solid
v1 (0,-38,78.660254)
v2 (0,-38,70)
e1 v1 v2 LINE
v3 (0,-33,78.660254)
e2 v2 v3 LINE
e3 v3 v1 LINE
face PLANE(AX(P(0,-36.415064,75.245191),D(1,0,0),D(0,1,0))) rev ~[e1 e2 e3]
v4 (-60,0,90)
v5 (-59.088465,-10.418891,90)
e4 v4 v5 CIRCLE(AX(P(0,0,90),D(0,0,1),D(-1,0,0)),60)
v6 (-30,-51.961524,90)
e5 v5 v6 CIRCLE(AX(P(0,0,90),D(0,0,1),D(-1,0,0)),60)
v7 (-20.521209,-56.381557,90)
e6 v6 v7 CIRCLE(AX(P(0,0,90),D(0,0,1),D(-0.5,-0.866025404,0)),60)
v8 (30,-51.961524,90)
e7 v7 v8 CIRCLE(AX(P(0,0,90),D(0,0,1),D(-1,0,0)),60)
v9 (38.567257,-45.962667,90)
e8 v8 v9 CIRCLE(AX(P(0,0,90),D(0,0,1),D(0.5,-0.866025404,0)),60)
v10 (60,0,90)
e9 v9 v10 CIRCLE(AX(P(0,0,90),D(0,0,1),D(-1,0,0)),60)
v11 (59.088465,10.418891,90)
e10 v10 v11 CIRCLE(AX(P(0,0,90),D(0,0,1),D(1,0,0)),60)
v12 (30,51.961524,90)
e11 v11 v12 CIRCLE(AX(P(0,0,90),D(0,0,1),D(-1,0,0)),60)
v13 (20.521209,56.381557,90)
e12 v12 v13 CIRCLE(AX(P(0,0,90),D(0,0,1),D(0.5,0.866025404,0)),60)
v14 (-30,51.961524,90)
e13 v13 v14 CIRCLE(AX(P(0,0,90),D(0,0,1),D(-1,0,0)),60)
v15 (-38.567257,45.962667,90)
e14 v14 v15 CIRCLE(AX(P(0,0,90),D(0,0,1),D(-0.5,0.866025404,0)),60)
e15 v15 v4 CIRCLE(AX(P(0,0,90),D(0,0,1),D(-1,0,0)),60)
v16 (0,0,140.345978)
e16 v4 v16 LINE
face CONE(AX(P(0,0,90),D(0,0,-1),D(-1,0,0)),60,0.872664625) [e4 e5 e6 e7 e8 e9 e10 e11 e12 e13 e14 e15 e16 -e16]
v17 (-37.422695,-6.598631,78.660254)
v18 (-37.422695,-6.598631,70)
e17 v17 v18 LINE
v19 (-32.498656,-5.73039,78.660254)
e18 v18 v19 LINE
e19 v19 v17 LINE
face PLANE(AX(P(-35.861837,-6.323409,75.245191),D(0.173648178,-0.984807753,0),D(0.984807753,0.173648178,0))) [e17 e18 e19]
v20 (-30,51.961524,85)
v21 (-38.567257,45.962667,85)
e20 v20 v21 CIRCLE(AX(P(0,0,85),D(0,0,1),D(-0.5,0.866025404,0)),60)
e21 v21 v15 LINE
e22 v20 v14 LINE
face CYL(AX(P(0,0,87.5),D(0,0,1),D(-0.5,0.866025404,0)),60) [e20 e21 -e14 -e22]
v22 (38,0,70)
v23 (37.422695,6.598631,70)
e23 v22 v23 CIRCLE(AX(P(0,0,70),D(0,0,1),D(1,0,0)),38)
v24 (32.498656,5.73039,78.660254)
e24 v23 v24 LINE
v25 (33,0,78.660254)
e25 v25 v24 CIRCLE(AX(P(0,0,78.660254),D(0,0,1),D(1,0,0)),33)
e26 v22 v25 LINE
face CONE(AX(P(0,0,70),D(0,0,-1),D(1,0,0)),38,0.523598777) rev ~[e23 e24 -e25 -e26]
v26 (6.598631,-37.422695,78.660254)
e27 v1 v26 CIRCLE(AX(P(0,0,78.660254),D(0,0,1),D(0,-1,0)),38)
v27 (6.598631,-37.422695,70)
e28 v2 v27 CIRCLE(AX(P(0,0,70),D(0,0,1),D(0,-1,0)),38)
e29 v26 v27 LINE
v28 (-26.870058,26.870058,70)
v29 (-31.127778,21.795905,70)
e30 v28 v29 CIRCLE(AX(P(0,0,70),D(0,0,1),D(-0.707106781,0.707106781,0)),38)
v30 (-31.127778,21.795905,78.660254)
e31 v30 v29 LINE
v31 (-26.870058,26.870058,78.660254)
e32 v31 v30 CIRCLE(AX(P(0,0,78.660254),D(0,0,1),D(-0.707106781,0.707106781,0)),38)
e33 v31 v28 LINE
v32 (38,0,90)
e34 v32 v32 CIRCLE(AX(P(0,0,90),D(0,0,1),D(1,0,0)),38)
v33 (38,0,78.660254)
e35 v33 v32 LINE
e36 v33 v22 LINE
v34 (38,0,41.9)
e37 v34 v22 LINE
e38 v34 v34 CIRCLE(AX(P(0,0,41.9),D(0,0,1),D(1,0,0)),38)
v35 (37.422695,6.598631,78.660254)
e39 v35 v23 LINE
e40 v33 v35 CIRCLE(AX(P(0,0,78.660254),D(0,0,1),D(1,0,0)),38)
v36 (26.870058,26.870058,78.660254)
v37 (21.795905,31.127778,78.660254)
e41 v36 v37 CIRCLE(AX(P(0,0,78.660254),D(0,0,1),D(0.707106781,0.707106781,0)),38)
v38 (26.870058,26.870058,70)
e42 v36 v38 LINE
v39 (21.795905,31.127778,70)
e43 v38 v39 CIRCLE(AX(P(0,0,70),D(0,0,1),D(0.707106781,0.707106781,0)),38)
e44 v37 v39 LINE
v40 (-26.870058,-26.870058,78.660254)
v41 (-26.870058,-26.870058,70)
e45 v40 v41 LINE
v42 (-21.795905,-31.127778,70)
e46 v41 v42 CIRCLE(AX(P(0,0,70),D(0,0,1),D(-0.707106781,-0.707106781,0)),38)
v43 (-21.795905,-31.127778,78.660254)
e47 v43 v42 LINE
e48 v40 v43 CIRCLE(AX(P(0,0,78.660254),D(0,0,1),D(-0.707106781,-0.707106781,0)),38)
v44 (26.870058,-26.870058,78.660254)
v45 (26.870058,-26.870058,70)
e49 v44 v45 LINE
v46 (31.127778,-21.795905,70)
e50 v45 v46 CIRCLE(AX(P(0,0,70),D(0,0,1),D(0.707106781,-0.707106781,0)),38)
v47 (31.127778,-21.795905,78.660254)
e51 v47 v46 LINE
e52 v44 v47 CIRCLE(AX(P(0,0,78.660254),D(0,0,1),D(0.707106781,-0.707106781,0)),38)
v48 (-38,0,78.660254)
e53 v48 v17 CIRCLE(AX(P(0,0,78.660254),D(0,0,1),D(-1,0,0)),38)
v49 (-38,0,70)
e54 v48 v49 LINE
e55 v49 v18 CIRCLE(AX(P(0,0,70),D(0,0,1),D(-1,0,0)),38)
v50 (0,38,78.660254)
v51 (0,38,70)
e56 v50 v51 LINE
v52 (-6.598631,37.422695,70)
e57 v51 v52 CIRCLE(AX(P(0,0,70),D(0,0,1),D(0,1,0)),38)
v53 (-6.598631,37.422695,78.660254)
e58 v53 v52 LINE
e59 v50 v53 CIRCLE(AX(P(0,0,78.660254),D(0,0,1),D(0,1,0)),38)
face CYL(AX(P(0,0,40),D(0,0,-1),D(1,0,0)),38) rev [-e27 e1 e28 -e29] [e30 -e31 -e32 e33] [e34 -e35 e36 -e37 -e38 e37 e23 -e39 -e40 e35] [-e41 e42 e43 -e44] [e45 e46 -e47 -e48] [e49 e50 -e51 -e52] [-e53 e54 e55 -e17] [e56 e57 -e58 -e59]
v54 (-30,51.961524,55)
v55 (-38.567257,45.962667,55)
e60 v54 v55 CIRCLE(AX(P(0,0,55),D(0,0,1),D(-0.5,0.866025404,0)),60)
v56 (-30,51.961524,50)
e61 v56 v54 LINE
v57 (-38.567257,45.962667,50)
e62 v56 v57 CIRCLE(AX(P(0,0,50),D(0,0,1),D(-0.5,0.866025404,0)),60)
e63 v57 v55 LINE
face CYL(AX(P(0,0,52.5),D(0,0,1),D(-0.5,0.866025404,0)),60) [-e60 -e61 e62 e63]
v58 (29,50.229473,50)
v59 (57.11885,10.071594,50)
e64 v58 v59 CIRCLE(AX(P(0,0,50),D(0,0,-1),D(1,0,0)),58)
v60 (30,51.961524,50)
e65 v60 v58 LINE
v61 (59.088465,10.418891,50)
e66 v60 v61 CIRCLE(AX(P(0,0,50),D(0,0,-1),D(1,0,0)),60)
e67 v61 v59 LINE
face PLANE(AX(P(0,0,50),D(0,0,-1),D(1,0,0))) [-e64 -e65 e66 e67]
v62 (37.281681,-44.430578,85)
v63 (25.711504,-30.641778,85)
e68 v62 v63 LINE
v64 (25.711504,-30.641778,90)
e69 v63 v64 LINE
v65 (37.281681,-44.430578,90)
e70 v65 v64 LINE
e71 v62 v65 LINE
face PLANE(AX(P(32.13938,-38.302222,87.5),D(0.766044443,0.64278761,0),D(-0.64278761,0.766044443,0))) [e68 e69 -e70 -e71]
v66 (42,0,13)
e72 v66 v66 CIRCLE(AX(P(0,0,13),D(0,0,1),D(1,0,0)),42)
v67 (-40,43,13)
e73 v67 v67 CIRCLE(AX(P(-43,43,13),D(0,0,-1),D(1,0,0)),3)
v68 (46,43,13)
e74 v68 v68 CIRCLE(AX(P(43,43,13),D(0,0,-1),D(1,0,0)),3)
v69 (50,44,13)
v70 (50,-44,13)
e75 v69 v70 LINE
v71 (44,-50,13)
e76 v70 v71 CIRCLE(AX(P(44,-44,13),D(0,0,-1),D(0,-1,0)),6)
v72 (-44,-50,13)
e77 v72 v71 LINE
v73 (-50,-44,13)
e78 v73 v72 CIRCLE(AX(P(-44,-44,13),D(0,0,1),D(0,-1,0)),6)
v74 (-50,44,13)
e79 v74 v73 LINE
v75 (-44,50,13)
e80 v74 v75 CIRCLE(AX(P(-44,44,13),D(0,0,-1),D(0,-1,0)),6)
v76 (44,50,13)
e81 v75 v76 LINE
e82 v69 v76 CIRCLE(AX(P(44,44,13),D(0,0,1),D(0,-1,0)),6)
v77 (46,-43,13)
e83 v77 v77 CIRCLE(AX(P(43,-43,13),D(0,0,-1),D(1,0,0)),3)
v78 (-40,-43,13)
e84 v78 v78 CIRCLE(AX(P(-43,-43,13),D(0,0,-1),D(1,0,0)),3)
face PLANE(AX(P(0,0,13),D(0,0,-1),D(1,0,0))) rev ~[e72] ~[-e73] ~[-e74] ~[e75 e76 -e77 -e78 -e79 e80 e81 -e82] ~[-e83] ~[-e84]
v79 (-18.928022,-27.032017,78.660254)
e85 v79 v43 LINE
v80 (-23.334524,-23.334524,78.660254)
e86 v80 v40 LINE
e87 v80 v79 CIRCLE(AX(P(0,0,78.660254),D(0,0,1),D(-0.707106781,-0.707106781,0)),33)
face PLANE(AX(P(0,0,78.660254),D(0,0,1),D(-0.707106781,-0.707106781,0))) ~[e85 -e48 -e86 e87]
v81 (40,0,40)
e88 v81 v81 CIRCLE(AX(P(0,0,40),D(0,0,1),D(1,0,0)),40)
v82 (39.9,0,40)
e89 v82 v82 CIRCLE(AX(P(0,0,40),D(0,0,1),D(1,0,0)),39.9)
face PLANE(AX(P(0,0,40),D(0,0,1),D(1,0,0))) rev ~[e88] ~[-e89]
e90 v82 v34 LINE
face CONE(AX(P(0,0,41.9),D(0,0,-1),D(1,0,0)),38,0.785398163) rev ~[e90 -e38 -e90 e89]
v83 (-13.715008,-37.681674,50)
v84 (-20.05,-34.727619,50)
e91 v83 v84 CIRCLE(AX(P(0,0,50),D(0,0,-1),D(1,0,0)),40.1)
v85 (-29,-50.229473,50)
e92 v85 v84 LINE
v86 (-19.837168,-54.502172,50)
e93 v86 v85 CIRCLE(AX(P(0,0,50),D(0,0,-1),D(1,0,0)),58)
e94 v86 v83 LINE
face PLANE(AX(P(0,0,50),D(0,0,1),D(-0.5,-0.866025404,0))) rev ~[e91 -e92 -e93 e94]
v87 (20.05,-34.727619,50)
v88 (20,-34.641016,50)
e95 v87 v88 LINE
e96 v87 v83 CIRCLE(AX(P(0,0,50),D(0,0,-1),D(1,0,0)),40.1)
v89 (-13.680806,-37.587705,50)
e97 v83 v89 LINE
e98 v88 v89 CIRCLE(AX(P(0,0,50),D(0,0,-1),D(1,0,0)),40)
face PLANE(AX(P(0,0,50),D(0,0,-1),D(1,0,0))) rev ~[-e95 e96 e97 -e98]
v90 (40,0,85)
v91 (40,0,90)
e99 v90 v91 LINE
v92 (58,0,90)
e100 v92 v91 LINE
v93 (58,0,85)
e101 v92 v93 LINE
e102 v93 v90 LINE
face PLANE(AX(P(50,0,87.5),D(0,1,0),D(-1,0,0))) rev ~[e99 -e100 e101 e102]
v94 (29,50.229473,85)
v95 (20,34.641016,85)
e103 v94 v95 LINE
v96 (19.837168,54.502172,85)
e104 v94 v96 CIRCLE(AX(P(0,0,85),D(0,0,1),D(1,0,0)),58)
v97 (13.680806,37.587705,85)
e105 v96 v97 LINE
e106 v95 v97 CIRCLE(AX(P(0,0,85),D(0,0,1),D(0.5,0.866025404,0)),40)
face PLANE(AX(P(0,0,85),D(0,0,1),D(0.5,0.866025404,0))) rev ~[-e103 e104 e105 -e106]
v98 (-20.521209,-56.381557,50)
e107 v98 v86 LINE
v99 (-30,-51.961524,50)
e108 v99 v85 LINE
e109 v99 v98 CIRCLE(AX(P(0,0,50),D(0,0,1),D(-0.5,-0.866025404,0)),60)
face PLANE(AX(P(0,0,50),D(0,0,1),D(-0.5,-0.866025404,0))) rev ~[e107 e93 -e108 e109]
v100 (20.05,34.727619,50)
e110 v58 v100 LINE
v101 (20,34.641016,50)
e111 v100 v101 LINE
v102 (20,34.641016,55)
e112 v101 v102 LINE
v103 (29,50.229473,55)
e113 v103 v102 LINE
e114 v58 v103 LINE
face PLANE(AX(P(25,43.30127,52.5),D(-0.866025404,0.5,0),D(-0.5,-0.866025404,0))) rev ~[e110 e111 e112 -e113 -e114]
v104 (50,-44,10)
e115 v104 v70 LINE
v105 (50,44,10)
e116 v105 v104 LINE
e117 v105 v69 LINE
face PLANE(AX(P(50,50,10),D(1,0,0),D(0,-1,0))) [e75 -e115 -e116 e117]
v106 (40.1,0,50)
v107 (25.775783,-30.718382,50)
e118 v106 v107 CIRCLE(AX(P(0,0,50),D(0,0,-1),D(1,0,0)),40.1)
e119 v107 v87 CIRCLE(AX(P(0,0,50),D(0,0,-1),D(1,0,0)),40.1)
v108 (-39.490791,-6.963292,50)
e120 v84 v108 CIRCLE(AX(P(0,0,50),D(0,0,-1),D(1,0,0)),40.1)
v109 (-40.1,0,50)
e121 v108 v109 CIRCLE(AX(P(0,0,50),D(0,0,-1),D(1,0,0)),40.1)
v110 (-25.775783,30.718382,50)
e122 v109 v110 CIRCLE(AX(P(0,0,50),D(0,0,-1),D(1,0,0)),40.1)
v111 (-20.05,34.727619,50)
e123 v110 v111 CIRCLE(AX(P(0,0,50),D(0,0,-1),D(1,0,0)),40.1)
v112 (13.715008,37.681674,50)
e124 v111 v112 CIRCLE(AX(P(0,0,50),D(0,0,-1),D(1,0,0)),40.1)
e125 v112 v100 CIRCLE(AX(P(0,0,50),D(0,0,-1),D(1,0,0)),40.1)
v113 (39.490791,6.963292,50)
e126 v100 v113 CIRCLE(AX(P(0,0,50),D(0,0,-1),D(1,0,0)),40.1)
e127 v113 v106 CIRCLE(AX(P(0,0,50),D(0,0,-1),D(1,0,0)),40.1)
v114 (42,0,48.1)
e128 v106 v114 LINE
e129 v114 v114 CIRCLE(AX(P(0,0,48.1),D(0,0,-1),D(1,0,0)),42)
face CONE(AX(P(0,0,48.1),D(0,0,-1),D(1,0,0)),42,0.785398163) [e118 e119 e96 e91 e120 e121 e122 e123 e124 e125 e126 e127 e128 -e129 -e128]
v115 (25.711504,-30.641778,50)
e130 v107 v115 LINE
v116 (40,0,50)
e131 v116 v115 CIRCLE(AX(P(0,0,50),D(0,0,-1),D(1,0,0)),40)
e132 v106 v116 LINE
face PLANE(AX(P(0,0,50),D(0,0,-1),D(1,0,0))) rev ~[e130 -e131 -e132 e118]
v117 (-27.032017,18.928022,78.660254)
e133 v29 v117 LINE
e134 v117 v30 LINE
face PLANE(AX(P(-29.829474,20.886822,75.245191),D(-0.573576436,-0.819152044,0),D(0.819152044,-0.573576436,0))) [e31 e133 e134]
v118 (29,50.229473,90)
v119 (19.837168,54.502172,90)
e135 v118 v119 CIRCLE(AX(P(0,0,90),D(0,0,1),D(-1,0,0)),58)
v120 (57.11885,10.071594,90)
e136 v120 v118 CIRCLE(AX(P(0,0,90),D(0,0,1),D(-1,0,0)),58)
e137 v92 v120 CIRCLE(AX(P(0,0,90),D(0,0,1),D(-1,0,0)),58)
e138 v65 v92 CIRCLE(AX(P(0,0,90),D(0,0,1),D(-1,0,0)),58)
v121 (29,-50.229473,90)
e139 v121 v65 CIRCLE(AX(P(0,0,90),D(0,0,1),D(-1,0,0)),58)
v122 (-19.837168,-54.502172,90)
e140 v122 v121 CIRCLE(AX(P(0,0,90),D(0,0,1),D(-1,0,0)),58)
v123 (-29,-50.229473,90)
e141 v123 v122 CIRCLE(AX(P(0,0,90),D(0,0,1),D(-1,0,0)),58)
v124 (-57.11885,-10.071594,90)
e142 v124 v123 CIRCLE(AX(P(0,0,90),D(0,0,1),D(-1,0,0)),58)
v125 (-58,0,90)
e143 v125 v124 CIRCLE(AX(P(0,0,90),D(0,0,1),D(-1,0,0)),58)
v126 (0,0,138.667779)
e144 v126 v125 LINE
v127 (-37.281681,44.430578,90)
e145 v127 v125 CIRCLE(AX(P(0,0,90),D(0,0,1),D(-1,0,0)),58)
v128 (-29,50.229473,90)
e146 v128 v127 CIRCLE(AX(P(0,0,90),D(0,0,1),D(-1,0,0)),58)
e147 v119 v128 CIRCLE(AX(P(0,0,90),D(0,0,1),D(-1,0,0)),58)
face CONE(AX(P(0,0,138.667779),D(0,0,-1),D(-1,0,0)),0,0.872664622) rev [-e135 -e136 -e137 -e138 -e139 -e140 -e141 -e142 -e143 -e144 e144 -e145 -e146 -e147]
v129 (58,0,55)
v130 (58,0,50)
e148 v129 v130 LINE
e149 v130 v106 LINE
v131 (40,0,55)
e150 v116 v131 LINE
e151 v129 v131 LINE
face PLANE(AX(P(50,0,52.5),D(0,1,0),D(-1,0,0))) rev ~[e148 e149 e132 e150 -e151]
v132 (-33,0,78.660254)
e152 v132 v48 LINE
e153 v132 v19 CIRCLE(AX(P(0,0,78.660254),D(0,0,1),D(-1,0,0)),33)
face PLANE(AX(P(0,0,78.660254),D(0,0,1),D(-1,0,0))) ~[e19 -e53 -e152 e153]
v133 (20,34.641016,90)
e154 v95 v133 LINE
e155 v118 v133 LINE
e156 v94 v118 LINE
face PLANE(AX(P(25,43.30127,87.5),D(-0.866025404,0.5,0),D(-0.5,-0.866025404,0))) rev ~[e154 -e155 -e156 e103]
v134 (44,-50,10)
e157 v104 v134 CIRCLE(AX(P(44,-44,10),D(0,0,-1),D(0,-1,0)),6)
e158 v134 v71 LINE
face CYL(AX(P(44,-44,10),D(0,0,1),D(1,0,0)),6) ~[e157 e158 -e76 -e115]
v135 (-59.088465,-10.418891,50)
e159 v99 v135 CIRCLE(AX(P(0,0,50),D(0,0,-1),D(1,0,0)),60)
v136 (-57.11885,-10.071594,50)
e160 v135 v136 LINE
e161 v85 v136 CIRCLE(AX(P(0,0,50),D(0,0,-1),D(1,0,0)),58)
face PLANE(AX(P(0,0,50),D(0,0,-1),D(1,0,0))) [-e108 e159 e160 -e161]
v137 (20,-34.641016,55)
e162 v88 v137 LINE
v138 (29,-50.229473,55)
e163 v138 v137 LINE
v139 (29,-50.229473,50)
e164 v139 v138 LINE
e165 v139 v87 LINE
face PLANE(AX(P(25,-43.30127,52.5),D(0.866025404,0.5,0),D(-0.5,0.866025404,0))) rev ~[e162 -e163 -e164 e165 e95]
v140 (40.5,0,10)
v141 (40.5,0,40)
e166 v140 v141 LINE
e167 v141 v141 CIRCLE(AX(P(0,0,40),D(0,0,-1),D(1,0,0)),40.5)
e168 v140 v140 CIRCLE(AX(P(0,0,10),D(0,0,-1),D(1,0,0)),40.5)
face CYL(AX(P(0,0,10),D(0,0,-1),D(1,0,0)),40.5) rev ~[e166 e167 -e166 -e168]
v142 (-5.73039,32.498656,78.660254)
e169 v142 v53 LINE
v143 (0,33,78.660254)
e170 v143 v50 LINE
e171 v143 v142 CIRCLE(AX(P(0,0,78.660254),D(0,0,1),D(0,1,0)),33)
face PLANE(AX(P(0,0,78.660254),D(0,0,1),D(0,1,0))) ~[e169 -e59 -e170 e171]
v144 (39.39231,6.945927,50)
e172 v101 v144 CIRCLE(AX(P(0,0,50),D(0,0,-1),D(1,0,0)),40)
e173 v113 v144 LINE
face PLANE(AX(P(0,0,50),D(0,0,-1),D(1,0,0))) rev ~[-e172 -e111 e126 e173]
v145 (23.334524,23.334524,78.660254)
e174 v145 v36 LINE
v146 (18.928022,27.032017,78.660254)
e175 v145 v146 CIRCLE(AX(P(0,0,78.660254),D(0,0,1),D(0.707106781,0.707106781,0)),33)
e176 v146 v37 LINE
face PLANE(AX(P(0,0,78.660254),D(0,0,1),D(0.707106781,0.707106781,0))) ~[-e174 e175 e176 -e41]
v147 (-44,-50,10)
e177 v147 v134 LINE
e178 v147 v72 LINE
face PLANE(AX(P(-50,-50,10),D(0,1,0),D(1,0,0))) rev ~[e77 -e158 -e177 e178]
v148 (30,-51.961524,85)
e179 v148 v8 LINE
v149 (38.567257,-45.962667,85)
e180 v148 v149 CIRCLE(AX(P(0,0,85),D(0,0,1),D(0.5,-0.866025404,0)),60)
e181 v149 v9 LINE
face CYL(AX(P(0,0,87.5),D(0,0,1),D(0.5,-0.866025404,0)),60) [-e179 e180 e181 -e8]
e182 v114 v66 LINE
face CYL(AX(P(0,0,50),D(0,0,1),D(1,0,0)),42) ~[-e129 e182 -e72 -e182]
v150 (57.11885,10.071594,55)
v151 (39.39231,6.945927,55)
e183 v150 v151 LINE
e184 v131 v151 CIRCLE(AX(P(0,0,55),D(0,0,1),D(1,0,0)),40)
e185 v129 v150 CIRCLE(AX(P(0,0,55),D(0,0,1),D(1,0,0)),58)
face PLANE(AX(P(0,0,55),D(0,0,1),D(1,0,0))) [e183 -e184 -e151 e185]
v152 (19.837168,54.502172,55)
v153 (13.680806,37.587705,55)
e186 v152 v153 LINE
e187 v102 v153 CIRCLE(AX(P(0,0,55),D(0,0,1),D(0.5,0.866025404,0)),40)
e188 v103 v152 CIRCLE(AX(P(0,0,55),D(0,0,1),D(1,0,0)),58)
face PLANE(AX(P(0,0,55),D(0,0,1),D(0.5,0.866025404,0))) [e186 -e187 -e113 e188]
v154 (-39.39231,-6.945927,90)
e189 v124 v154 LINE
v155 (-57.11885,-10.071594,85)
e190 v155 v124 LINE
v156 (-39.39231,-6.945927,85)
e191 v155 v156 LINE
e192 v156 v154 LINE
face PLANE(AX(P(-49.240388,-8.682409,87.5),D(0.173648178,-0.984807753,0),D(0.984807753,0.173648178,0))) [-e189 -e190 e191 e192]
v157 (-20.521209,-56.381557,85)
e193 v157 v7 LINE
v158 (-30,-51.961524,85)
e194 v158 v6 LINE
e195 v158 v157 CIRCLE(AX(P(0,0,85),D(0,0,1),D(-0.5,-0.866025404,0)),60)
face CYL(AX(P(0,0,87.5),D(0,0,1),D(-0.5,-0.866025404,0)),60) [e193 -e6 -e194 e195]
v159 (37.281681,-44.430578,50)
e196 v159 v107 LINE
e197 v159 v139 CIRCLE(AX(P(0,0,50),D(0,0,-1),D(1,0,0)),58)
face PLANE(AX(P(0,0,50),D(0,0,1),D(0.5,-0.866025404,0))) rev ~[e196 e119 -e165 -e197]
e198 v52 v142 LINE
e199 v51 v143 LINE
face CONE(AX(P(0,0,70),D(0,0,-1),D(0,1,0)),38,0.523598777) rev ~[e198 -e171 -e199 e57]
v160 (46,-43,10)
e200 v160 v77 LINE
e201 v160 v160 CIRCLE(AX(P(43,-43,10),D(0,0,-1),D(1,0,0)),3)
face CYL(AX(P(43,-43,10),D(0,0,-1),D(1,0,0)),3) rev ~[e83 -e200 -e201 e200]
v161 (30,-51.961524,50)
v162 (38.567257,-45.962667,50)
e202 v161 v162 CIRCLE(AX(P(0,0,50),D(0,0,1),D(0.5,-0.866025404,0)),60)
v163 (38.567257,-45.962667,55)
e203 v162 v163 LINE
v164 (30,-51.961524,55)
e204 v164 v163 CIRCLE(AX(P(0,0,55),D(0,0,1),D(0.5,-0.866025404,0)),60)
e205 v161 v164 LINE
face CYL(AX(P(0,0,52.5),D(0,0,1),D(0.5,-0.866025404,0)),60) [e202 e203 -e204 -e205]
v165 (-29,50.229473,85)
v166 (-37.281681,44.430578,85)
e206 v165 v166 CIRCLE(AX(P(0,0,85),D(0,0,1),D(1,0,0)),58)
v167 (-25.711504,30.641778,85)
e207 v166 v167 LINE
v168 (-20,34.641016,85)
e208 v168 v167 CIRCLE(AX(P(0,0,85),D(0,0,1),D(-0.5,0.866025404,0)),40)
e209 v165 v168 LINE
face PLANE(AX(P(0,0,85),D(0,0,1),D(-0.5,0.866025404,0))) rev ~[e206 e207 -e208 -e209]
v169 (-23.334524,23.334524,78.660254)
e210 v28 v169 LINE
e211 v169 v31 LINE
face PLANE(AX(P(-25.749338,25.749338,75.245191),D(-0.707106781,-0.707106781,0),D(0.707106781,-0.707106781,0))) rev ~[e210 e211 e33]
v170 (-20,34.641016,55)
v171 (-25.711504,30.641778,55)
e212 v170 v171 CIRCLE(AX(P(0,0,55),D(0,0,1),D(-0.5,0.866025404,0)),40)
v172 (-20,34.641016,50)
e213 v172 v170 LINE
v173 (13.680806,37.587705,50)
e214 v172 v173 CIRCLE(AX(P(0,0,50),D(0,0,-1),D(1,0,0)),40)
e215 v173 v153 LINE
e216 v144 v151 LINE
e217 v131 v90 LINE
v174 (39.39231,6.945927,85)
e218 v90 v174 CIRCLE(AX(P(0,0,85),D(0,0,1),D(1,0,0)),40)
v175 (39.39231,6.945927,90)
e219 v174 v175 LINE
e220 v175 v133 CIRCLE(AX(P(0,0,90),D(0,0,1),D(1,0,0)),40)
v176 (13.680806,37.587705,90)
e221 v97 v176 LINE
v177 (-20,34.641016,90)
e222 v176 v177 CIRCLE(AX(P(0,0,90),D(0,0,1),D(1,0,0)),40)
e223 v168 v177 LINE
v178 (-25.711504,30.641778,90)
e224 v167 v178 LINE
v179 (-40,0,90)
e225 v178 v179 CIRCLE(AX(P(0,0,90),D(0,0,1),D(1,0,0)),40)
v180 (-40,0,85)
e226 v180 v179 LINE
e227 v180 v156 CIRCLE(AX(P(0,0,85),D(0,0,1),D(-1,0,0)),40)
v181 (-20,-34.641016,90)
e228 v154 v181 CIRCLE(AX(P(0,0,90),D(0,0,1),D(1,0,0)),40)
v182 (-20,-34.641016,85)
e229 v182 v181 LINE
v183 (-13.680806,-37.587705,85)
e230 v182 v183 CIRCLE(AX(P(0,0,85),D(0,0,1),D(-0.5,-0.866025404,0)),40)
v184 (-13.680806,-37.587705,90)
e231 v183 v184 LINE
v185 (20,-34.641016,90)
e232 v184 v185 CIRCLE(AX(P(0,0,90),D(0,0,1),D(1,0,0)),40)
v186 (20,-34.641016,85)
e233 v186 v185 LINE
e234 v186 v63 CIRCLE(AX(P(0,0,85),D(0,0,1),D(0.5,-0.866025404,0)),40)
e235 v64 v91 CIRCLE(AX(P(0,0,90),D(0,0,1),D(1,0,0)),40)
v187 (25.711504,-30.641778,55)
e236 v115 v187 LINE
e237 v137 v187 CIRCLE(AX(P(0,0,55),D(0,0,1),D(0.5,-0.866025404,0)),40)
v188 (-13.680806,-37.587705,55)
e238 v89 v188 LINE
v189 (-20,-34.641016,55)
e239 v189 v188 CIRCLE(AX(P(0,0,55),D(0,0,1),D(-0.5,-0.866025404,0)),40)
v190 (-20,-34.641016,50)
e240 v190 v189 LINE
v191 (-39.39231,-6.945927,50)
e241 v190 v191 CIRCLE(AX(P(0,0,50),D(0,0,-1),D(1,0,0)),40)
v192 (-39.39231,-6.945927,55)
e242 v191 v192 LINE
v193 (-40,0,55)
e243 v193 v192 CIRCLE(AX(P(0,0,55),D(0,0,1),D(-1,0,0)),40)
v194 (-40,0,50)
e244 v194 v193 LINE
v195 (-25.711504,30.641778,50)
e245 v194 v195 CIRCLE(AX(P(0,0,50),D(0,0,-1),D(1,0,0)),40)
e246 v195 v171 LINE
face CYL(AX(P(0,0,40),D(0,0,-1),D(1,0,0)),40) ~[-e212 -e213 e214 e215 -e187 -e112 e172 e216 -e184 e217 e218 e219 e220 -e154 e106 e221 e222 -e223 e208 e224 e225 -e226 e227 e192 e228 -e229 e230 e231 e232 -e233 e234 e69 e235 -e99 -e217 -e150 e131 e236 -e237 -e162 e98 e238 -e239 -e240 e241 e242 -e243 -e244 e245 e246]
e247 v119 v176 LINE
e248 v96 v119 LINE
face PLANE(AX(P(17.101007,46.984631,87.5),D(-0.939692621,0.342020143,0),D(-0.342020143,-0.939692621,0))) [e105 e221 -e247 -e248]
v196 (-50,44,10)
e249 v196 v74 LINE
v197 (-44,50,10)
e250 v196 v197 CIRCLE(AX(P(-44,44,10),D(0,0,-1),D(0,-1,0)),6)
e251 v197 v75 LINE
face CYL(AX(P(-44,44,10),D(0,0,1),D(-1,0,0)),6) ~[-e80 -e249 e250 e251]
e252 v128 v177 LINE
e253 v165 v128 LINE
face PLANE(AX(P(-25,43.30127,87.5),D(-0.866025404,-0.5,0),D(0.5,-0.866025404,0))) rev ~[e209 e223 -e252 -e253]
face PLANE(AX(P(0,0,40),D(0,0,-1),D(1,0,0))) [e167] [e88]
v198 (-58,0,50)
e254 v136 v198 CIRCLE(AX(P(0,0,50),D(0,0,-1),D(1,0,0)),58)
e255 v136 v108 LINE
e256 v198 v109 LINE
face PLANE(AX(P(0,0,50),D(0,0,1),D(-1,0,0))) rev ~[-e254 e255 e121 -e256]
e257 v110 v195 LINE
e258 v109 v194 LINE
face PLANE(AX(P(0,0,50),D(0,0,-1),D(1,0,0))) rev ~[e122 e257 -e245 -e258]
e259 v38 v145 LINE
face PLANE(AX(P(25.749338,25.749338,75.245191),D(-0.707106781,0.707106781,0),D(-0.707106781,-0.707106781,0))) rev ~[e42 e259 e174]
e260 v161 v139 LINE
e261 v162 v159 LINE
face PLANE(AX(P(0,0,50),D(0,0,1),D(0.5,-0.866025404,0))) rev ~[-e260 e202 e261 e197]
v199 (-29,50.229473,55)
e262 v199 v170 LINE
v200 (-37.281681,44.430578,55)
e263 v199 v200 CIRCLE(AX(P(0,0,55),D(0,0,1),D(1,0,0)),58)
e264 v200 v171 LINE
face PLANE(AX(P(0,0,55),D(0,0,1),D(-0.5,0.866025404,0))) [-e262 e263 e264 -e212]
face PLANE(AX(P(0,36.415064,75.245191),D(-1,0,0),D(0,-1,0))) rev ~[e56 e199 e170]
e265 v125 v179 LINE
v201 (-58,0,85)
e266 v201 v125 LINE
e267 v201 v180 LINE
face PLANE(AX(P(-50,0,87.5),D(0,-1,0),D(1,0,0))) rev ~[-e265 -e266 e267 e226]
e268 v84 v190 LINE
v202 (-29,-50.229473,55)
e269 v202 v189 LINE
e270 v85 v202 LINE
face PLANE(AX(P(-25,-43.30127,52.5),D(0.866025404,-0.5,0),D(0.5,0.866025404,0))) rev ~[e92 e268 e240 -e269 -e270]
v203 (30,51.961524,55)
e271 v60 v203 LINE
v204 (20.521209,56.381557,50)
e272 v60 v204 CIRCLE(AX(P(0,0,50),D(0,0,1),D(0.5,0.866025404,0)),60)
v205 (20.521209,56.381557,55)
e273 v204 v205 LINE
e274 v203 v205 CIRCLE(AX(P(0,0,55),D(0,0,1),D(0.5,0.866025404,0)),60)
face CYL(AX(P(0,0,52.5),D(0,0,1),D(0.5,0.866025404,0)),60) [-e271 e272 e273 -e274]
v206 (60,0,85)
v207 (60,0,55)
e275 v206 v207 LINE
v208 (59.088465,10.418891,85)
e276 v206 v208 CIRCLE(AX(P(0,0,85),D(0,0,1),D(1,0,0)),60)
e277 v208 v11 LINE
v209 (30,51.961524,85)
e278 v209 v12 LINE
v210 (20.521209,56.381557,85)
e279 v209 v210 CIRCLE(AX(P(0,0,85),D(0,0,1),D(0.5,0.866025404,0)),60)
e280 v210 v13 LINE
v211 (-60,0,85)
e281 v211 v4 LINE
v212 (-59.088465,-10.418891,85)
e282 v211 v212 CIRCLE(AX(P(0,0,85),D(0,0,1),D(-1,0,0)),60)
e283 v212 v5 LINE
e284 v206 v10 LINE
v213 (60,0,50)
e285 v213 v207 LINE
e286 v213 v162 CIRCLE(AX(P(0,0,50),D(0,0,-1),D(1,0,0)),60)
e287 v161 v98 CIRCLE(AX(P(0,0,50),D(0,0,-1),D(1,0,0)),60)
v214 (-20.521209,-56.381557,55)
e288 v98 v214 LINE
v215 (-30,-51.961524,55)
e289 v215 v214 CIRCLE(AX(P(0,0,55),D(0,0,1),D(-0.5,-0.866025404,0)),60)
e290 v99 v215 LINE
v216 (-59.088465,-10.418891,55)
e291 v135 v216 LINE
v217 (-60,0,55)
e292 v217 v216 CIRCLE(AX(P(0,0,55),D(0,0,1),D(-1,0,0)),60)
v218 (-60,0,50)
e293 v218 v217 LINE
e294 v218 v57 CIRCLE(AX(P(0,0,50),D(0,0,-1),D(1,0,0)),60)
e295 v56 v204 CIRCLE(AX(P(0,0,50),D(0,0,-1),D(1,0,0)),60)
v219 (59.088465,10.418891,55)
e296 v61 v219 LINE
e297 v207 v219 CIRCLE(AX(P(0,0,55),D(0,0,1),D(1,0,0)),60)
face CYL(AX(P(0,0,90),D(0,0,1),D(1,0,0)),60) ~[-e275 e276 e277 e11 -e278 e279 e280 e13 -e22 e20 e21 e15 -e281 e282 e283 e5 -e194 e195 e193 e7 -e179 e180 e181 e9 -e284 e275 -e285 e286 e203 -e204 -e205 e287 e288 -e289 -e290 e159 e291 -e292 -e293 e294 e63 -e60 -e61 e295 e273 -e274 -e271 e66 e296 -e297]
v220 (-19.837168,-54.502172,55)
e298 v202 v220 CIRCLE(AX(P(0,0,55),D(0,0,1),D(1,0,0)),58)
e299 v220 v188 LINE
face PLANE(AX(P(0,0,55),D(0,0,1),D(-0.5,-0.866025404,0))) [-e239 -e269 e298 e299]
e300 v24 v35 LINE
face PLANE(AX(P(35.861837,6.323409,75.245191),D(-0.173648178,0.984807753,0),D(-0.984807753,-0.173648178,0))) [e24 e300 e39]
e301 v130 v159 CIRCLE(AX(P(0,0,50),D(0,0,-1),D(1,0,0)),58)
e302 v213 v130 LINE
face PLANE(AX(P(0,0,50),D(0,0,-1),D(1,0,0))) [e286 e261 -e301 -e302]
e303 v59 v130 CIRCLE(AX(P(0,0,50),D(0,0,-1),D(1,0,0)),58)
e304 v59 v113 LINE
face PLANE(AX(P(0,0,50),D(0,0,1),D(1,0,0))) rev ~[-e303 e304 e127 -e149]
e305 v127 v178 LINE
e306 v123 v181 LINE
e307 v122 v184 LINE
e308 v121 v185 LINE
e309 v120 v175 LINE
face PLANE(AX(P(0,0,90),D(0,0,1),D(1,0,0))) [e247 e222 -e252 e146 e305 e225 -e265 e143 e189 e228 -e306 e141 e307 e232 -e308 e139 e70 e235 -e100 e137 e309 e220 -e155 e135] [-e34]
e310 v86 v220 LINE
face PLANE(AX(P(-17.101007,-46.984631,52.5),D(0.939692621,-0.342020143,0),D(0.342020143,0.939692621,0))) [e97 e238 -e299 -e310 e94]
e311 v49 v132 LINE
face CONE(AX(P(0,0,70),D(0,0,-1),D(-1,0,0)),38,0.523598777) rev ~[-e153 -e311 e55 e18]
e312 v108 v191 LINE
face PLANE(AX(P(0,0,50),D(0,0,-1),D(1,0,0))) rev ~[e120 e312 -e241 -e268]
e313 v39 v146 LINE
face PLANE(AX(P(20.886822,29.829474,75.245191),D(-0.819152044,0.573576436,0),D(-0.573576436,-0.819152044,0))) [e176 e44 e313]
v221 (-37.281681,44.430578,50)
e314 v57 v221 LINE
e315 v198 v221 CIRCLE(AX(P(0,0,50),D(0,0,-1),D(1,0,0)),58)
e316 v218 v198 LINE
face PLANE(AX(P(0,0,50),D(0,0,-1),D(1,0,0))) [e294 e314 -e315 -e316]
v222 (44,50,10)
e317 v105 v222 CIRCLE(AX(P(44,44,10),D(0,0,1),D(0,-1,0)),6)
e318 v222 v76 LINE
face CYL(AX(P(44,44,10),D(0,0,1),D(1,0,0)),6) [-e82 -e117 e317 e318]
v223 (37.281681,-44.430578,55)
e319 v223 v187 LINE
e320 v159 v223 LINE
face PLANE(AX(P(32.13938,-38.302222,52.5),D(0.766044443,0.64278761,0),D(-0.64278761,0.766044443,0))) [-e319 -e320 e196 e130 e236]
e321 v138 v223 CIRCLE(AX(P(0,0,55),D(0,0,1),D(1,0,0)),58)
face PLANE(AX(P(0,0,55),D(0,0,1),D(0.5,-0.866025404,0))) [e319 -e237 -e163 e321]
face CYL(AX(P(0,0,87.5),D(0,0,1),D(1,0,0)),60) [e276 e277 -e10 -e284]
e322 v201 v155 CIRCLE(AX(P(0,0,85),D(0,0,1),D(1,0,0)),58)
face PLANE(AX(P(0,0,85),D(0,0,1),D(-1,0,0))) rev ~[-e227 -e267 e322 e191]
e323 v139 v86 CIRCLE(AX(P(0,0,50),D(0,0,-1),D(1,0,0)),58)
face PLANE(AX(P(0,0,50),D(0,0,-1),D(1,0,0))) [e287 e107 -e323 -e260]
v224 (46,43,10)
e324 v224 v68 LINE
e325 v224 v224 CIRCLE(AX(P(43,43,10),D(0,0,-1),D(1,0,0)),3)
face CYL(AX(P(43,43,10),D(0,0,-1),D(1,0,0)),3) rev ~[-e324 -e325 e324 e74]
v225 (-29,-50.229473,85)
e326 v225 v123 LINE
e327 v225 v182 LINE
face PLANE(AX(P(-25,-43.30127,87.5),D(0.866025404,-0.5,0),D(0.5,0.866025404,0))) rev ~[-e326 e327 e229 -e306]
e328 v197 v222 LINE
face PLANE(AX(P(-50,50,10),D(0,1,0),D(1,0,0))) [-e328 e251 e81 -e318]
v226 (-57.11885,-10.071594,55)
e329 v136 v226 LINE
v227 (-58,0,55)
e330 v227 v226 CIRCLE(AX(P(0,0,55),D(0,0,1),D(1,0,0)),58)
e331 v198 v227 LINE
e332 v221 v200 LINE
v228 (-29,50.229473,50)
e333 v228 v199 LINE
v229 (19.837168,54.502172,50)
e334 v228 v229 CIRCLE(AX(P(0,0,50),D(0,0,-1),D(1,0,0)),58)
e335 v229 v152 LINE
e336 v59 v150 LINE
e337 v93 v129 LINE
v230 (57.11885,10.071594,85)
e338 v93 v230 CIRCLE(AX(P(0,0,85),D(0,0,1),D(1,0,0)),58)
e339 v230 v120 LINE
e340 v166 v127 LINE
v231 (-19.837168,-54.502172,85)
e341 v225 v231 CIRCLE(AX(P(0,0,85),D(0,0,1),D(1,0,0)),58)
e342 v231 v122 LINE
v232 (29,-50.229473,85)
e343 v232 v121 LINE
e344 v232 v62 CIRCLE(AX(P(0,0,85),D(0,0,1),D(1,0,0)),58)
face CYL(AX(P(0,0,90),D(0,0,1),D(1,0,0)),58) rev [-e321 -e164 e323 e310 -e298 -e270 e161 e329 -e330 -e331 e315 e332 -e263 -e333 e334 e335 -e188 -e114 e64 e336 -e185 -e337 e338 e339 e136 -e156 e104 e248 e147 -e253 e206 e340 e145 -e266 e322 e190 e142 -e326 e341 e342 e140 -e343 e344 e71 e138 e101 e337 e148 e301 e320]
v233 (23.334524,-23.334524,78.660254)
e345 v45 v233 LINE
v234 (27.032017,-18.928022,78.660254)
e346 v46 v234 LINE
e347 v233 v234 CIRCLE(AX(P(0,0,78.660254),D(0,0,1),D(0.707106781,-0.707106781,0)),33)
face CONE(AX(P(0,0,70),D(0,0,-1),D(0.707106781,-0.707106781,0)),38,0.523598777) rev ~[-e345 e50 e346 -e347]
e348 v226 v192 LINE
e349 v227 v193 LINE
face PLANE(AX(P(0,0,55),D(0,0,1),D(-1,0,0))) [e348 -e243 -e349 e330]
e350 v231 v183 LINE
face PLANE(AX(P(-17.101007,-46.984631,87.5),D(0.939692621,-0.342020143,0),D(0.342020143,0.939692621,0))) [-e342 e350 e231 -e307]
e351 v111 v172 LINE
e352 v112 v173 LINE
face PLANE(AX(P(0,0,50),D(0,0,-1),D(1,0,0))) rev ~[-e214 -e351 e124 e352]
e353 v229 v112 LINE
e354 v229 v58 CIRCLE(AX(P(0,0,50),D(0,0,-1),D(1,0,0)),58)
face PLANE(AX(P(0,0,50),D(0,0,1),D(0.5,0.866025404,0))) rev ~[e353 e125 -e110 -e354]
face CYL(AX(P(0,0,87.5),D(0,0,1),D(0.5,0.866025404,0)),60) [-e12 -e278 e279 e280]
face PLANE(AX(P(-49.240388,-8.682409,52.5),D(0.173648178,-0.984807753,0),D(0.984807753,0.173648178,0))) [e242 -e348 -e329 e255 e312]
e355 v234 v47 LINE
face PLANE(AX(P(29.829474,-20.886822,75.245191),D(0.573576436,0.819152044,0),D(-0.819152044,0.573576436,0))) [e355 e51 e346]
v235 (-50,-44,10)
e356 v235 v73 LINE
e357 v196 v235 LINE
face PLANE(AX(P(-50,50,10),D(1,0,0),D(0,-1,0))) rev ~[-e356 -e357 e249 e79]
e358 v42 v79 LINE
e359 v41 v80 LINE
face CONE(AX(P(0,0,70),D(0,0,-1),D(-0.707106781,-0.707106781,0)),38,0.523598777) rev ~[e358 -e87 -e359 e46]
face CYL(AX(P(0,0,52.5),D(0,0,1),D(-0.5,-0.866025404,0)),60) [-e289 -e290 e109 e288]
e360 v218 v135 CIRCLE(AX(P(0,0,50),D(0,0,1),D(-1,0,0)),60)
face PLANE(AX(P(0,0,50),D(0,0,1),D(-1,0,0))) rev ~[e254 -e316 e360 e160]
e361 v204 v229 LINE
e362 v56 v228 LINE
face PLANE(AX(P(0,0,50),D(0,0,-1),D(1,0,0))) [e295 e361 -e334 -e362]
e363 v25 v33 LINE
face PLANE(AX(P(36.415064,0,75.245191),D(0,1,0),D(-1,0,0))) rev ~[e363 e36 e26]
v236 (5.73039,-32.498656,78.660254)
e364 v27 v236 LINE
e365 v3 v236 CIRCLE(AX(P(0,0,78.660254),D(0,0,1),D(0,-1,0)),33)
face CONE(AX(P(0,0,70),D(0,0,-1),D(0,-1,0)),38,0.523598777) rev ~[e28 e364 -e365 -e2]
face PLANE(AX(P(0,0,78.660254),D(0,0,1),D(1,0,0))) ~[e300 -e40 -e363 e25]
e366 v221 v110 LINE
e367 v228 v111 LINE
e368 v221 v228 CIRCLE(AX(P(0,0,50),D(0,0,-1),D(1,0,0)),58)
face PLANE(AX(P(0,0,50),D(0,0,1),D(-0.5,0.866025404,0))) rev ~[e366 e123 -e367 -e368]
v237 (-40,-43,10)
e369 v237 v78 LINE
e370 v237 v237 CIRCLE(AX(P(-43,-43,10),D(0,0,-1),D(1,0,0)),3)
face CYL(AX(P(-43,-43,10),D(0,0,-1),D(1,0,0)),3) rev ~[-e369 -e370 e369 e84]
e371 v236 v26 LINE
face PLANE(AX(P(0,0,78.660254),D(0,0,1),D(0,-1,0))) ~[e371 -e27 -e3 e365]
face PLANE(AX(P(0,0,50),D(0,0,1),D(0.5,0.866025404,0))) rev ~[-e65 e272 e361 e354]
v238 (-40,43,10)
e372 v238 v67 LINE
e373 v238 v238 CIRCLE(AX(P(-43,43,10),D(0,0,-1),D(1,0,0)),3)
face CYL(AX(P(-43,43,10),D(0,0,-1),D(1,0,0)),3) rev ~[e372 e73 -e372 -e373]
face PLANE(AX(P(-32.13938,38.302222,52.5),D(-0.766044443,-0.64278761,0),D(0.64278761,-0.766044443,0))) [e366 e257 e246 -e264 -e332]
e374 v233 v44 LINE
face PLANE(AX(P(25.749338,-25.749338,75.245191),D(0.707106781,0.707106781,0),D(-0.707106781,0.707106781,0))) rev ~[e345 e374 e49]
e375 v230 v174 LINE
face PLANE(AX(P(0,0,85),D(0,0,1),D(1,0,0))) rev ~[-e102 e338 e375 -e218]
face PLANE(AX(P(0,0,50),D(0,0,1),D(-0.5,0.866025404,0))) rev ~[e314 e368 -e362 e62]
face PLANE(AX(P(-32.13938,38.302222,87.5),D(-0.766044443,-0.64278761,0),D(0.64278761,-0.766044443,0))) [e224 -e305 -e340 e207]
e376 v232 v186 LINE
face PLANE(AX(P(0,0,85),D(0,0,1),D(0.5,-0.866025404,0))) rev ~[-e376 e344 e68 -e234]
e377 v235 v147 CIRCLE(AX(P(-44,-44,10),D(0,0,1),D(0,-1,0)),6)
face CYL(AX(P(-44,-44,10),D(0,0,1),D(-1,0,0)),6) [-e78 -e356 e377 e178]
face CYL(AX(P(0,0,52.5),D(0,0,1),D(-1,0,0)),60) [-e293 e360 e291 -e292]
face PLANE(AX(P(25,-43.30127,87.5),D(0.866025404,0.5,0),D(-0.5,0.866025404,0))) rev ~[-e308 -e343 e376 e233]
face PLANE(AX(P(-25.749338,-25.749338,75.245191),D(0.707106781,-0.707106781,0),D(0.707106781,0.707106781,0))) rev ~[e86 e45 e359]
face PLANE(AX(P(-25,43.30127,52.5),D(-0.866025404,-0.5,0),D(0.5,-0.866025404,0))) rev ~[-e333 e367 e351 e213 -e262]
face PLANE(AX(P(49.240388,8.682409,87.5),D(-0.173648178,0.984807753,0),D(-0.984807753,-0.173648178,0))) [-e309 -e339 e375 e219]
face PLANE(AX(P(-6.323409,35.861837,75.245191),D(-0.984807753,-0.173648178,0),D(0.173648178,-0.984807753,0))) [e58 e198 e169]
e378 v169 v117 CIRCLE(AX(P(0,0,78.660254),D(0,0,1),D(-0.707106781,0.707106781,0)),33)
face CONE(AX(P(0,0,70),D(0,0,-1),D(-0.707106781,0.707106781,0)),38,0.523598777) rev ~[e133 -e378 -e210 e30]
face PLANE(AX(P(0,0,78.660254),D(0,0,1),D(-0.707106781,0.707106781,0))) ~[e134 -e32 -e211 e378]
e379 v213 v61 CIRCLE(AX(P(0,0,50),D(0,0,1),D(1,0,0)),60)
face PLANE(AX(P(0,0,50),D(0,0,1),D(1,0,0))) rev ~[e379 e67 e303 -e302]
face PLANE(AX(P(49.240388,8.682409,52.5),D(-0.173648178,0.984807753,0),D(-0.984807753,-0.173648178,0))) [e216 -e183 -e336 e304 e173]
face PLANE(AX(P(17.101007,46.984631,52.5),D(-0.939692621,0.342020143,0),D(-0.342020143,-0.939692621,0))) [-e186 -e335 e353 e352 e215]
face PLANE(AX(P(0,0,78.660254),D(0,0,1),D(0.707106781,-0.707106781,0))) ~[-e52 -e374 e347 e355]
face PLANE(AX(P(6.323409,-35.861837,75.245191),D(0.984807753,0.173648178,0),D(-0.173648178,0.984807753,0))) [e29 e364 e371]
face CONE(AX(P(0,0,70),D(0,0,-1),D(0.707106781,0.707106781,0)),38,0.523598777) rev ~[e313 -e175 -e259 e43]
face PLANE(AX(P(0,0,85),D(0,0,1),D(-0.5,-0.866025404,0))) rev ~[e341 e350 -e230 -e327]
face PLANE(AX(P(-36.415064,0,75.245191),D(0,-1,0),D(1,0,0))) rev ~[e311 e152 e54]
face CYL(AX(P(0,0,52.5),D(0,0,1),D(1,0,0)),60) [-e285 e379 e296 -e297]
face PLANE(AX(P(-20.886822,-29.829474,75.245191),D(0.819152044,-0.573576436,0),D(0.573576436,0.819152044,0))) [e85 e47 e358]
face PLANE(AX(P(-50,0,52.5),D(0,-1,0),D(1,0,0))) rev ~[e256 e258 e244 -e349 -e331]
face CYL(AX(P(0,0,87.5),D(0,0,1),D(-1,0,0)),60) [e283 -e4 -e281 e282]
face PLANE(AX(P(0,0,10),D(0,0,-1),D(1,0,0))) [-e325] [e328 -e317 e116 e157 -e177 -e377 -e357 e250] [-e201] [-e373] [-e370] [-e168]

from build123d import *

# Parameters (mm, degrees)
SKETCH006_R           = 40
SKETCH006_R_2         = 38
PAD002_DEPTH          = 50
SKETCH007_R           = 42
SKETCH007_R_2         = 40
PAD003_DEPTH          = 40
SKETCH019_W           = 100
SKETCH019_H           = 100
SKETCH019_R           = 40
PAD010_DEPTH          = 3
FILLET001_R           = 6
SKETCH020_R           = 3
POCKET004_DEPTH       = 3
CHAMFER_SIZE          = 1.9
CHAMFER002_SIZE       = 1.9
REVOLUTION_ANGLE      = 10
POLARPATTERN_COUNT    = 8
SKETCH022_W           = 20
SKETCH022_H           = 5
REVOLUTION004_ANGLE   = 10
POLARPATTERN006_COUNT = 6
SKETCH024_R           = 60
SKETCH024_R_2         = 58
PAD011_DEPTH          = 40
SKETCH030_R           = 40.5
POCKET006_DEPTH       = 30


with BuildPart() as part:
    # Sketch006 → Pad002 (new body)
    with BuildSketch(Plane.XY):
        Circle(SKETCH006_R)
        Circle(SKETCH006_R_2, mode=Mode.SUBTRACT)
    extrude(amount=PAD002_DEPTH)

    # Sketch007 (on Face3 of Pad002) → Pad003 (join)
    with BuildSketch(Plane(origin=(0, 0, 10), x_dir=(1, 0, 0), z_dir=(0, 0, -1))):
        Circle(SKETCH007_R)
        Circle(SKETCH007_R_2, mode=Mode.SUBTRACT)
    extrude(amount=PAD003_DEPTH)

    # Sketch019 (on Face6 of Pad003) → Pad010 (join)
    with BuildSketch(Plane(origin=(0, 0, -30), x_dir=(1, 0, 0), z_dir=(0, 0, -1))):
        Rectangle(SKETCH019_W, SKETCH019_H)
        Circle(SKETCH019_R, mode=Mode.SUBTRACT)
    extrude(amount=-PAD010_DEPTH)

    # Fillet001
    fillet001_edges = [part.edges().sort_by_distance(p)[0] for p in [
        (-50, 50, -28.5),
        (-50, -50, -28.5),
        (50, -50, -28.5),
        (50, 50, -28.5),
    ]]
    fillet(fillet001_edges, radius=FILLET001_R)

    # Sketch020 (on Face11 of Fillet001) → Pocket004 (cut)
    with BuildSketch(Plane(origin=(0, 0, -30), x_dir=(1, 0, 0), z_dir=(0, 0, -1))):
        with Locations((-43, 43)):
            Circle(SKETCH020_R)
        with Locations((43, 43)):
            Circle(SKETCH020_R)
        with Locations((43, -43)):
            Circle(SKETCH020_R)
        with Locations((-43, -43)):
            Circle(SKETCH020_R)
    extrude(amount=-POCKET004_DEPTH, mode=Mode.SUBTRACT)

    # Chamfer
    chamfer_edges = [part.edges().sort_by_distance(p)[0] for p in [
        (-38, 0, 0),
    ]]
    chamfer(chamfer_edges, length=CHAMFER_SIZE)

    # Chamfer002
    chamfer002_edges = [part.edges().sort_by_distance(p)[0] for p in [
        (-42, 0, 10),
    ]]
    chamfer(chamfer002_edges, length=CHAMFER002_SIZE)

    # Sketch021 → Revolution (revolve)
    with BuildSketch(Plane.YZ):
        Polygon((-38, 38.660254), (-38, 30), (-33, 38.660254), align=None)
    revolution = revolve(axis=Axis((0, 0, 0), (0, 0, 1)), revolution_arc=REVOLUTION_ANGLE)

    # PolarPattern: Revolution ×8 about axis
    polarpattern_axis = Axis((0, 0, 0), (0, 0, 1))
    for i in range(1, POLARPATTERN_COUNT):
        add(revolution.rotate(polarpattern_axis, i * 360 / POLARPATTERN_COUNT))

    # Sketch022 → Revolution004 (revolve)
    with BuildSketch(Plane.XZ):
        with Locations((-50, 47.5)):
            Rectangle(SKETCH022_W, SKETCH022_H)
        with Locations((-50, 12.5)):
            Rectangle(SKETCH022_W, SKETCH022_H)
    revolution004 = revolve(axis=Axis((0, 0, 0), (0, 0, 1)), revolution_arc=REVOLUTION004_ANGLE)

    # PolarPattern006: Revolution004 ×6 about axis
    polarpattern006_axis = Axis((0, 0, 0), (0, 0, 1))
    for i in range(1, POLARPATTERN006_COUNT):
        add(revolution004.rotate(polarpattern006_axis, i * 360 / POLARPATTERN006_COUNT))

    # Sketch023 → Revolution005 (revolve)
    with BuildSketch(Plane.XZ):
        Polygon((-60, 50), (0, 100.345978), (0, 98.667779), (-58, 50), align=None)
    revolve(axis=Axis((0, 0, 0), (0, 0, 1)))

    # Sketch024 (on Face68 of Revolution005) → Pad011 (join)
    with BuildSketch(Plane(origin=(0, 0, 50), x_dir=(1, 0, 0), z_dir=(0, 0, -1))):
        Circle(SKETCH024_R)
        Circle(SKETCH024_R_2, mode=Mode.SUBTRACT)
    extrude(amount=PAD011_DEPTH)

    # Sketch030 (on Face135 of Pad011) → Pocket006 (cut)
    with BuildSketch(Plane(origin=(0, 0, -30), x_dir=(1, 0, 0), z_dir=(0, 0, -1))):
        Circle(SKETCH030_R)
    extrude(amount=-POCKET006_DEPTH, mode=Mode.SUBTRACT)


with BuildPart() as part_1:
    # Body001 placement: moved
    add(part.part.moved(Location((0, 0, 40))))


solid = part_1.part
